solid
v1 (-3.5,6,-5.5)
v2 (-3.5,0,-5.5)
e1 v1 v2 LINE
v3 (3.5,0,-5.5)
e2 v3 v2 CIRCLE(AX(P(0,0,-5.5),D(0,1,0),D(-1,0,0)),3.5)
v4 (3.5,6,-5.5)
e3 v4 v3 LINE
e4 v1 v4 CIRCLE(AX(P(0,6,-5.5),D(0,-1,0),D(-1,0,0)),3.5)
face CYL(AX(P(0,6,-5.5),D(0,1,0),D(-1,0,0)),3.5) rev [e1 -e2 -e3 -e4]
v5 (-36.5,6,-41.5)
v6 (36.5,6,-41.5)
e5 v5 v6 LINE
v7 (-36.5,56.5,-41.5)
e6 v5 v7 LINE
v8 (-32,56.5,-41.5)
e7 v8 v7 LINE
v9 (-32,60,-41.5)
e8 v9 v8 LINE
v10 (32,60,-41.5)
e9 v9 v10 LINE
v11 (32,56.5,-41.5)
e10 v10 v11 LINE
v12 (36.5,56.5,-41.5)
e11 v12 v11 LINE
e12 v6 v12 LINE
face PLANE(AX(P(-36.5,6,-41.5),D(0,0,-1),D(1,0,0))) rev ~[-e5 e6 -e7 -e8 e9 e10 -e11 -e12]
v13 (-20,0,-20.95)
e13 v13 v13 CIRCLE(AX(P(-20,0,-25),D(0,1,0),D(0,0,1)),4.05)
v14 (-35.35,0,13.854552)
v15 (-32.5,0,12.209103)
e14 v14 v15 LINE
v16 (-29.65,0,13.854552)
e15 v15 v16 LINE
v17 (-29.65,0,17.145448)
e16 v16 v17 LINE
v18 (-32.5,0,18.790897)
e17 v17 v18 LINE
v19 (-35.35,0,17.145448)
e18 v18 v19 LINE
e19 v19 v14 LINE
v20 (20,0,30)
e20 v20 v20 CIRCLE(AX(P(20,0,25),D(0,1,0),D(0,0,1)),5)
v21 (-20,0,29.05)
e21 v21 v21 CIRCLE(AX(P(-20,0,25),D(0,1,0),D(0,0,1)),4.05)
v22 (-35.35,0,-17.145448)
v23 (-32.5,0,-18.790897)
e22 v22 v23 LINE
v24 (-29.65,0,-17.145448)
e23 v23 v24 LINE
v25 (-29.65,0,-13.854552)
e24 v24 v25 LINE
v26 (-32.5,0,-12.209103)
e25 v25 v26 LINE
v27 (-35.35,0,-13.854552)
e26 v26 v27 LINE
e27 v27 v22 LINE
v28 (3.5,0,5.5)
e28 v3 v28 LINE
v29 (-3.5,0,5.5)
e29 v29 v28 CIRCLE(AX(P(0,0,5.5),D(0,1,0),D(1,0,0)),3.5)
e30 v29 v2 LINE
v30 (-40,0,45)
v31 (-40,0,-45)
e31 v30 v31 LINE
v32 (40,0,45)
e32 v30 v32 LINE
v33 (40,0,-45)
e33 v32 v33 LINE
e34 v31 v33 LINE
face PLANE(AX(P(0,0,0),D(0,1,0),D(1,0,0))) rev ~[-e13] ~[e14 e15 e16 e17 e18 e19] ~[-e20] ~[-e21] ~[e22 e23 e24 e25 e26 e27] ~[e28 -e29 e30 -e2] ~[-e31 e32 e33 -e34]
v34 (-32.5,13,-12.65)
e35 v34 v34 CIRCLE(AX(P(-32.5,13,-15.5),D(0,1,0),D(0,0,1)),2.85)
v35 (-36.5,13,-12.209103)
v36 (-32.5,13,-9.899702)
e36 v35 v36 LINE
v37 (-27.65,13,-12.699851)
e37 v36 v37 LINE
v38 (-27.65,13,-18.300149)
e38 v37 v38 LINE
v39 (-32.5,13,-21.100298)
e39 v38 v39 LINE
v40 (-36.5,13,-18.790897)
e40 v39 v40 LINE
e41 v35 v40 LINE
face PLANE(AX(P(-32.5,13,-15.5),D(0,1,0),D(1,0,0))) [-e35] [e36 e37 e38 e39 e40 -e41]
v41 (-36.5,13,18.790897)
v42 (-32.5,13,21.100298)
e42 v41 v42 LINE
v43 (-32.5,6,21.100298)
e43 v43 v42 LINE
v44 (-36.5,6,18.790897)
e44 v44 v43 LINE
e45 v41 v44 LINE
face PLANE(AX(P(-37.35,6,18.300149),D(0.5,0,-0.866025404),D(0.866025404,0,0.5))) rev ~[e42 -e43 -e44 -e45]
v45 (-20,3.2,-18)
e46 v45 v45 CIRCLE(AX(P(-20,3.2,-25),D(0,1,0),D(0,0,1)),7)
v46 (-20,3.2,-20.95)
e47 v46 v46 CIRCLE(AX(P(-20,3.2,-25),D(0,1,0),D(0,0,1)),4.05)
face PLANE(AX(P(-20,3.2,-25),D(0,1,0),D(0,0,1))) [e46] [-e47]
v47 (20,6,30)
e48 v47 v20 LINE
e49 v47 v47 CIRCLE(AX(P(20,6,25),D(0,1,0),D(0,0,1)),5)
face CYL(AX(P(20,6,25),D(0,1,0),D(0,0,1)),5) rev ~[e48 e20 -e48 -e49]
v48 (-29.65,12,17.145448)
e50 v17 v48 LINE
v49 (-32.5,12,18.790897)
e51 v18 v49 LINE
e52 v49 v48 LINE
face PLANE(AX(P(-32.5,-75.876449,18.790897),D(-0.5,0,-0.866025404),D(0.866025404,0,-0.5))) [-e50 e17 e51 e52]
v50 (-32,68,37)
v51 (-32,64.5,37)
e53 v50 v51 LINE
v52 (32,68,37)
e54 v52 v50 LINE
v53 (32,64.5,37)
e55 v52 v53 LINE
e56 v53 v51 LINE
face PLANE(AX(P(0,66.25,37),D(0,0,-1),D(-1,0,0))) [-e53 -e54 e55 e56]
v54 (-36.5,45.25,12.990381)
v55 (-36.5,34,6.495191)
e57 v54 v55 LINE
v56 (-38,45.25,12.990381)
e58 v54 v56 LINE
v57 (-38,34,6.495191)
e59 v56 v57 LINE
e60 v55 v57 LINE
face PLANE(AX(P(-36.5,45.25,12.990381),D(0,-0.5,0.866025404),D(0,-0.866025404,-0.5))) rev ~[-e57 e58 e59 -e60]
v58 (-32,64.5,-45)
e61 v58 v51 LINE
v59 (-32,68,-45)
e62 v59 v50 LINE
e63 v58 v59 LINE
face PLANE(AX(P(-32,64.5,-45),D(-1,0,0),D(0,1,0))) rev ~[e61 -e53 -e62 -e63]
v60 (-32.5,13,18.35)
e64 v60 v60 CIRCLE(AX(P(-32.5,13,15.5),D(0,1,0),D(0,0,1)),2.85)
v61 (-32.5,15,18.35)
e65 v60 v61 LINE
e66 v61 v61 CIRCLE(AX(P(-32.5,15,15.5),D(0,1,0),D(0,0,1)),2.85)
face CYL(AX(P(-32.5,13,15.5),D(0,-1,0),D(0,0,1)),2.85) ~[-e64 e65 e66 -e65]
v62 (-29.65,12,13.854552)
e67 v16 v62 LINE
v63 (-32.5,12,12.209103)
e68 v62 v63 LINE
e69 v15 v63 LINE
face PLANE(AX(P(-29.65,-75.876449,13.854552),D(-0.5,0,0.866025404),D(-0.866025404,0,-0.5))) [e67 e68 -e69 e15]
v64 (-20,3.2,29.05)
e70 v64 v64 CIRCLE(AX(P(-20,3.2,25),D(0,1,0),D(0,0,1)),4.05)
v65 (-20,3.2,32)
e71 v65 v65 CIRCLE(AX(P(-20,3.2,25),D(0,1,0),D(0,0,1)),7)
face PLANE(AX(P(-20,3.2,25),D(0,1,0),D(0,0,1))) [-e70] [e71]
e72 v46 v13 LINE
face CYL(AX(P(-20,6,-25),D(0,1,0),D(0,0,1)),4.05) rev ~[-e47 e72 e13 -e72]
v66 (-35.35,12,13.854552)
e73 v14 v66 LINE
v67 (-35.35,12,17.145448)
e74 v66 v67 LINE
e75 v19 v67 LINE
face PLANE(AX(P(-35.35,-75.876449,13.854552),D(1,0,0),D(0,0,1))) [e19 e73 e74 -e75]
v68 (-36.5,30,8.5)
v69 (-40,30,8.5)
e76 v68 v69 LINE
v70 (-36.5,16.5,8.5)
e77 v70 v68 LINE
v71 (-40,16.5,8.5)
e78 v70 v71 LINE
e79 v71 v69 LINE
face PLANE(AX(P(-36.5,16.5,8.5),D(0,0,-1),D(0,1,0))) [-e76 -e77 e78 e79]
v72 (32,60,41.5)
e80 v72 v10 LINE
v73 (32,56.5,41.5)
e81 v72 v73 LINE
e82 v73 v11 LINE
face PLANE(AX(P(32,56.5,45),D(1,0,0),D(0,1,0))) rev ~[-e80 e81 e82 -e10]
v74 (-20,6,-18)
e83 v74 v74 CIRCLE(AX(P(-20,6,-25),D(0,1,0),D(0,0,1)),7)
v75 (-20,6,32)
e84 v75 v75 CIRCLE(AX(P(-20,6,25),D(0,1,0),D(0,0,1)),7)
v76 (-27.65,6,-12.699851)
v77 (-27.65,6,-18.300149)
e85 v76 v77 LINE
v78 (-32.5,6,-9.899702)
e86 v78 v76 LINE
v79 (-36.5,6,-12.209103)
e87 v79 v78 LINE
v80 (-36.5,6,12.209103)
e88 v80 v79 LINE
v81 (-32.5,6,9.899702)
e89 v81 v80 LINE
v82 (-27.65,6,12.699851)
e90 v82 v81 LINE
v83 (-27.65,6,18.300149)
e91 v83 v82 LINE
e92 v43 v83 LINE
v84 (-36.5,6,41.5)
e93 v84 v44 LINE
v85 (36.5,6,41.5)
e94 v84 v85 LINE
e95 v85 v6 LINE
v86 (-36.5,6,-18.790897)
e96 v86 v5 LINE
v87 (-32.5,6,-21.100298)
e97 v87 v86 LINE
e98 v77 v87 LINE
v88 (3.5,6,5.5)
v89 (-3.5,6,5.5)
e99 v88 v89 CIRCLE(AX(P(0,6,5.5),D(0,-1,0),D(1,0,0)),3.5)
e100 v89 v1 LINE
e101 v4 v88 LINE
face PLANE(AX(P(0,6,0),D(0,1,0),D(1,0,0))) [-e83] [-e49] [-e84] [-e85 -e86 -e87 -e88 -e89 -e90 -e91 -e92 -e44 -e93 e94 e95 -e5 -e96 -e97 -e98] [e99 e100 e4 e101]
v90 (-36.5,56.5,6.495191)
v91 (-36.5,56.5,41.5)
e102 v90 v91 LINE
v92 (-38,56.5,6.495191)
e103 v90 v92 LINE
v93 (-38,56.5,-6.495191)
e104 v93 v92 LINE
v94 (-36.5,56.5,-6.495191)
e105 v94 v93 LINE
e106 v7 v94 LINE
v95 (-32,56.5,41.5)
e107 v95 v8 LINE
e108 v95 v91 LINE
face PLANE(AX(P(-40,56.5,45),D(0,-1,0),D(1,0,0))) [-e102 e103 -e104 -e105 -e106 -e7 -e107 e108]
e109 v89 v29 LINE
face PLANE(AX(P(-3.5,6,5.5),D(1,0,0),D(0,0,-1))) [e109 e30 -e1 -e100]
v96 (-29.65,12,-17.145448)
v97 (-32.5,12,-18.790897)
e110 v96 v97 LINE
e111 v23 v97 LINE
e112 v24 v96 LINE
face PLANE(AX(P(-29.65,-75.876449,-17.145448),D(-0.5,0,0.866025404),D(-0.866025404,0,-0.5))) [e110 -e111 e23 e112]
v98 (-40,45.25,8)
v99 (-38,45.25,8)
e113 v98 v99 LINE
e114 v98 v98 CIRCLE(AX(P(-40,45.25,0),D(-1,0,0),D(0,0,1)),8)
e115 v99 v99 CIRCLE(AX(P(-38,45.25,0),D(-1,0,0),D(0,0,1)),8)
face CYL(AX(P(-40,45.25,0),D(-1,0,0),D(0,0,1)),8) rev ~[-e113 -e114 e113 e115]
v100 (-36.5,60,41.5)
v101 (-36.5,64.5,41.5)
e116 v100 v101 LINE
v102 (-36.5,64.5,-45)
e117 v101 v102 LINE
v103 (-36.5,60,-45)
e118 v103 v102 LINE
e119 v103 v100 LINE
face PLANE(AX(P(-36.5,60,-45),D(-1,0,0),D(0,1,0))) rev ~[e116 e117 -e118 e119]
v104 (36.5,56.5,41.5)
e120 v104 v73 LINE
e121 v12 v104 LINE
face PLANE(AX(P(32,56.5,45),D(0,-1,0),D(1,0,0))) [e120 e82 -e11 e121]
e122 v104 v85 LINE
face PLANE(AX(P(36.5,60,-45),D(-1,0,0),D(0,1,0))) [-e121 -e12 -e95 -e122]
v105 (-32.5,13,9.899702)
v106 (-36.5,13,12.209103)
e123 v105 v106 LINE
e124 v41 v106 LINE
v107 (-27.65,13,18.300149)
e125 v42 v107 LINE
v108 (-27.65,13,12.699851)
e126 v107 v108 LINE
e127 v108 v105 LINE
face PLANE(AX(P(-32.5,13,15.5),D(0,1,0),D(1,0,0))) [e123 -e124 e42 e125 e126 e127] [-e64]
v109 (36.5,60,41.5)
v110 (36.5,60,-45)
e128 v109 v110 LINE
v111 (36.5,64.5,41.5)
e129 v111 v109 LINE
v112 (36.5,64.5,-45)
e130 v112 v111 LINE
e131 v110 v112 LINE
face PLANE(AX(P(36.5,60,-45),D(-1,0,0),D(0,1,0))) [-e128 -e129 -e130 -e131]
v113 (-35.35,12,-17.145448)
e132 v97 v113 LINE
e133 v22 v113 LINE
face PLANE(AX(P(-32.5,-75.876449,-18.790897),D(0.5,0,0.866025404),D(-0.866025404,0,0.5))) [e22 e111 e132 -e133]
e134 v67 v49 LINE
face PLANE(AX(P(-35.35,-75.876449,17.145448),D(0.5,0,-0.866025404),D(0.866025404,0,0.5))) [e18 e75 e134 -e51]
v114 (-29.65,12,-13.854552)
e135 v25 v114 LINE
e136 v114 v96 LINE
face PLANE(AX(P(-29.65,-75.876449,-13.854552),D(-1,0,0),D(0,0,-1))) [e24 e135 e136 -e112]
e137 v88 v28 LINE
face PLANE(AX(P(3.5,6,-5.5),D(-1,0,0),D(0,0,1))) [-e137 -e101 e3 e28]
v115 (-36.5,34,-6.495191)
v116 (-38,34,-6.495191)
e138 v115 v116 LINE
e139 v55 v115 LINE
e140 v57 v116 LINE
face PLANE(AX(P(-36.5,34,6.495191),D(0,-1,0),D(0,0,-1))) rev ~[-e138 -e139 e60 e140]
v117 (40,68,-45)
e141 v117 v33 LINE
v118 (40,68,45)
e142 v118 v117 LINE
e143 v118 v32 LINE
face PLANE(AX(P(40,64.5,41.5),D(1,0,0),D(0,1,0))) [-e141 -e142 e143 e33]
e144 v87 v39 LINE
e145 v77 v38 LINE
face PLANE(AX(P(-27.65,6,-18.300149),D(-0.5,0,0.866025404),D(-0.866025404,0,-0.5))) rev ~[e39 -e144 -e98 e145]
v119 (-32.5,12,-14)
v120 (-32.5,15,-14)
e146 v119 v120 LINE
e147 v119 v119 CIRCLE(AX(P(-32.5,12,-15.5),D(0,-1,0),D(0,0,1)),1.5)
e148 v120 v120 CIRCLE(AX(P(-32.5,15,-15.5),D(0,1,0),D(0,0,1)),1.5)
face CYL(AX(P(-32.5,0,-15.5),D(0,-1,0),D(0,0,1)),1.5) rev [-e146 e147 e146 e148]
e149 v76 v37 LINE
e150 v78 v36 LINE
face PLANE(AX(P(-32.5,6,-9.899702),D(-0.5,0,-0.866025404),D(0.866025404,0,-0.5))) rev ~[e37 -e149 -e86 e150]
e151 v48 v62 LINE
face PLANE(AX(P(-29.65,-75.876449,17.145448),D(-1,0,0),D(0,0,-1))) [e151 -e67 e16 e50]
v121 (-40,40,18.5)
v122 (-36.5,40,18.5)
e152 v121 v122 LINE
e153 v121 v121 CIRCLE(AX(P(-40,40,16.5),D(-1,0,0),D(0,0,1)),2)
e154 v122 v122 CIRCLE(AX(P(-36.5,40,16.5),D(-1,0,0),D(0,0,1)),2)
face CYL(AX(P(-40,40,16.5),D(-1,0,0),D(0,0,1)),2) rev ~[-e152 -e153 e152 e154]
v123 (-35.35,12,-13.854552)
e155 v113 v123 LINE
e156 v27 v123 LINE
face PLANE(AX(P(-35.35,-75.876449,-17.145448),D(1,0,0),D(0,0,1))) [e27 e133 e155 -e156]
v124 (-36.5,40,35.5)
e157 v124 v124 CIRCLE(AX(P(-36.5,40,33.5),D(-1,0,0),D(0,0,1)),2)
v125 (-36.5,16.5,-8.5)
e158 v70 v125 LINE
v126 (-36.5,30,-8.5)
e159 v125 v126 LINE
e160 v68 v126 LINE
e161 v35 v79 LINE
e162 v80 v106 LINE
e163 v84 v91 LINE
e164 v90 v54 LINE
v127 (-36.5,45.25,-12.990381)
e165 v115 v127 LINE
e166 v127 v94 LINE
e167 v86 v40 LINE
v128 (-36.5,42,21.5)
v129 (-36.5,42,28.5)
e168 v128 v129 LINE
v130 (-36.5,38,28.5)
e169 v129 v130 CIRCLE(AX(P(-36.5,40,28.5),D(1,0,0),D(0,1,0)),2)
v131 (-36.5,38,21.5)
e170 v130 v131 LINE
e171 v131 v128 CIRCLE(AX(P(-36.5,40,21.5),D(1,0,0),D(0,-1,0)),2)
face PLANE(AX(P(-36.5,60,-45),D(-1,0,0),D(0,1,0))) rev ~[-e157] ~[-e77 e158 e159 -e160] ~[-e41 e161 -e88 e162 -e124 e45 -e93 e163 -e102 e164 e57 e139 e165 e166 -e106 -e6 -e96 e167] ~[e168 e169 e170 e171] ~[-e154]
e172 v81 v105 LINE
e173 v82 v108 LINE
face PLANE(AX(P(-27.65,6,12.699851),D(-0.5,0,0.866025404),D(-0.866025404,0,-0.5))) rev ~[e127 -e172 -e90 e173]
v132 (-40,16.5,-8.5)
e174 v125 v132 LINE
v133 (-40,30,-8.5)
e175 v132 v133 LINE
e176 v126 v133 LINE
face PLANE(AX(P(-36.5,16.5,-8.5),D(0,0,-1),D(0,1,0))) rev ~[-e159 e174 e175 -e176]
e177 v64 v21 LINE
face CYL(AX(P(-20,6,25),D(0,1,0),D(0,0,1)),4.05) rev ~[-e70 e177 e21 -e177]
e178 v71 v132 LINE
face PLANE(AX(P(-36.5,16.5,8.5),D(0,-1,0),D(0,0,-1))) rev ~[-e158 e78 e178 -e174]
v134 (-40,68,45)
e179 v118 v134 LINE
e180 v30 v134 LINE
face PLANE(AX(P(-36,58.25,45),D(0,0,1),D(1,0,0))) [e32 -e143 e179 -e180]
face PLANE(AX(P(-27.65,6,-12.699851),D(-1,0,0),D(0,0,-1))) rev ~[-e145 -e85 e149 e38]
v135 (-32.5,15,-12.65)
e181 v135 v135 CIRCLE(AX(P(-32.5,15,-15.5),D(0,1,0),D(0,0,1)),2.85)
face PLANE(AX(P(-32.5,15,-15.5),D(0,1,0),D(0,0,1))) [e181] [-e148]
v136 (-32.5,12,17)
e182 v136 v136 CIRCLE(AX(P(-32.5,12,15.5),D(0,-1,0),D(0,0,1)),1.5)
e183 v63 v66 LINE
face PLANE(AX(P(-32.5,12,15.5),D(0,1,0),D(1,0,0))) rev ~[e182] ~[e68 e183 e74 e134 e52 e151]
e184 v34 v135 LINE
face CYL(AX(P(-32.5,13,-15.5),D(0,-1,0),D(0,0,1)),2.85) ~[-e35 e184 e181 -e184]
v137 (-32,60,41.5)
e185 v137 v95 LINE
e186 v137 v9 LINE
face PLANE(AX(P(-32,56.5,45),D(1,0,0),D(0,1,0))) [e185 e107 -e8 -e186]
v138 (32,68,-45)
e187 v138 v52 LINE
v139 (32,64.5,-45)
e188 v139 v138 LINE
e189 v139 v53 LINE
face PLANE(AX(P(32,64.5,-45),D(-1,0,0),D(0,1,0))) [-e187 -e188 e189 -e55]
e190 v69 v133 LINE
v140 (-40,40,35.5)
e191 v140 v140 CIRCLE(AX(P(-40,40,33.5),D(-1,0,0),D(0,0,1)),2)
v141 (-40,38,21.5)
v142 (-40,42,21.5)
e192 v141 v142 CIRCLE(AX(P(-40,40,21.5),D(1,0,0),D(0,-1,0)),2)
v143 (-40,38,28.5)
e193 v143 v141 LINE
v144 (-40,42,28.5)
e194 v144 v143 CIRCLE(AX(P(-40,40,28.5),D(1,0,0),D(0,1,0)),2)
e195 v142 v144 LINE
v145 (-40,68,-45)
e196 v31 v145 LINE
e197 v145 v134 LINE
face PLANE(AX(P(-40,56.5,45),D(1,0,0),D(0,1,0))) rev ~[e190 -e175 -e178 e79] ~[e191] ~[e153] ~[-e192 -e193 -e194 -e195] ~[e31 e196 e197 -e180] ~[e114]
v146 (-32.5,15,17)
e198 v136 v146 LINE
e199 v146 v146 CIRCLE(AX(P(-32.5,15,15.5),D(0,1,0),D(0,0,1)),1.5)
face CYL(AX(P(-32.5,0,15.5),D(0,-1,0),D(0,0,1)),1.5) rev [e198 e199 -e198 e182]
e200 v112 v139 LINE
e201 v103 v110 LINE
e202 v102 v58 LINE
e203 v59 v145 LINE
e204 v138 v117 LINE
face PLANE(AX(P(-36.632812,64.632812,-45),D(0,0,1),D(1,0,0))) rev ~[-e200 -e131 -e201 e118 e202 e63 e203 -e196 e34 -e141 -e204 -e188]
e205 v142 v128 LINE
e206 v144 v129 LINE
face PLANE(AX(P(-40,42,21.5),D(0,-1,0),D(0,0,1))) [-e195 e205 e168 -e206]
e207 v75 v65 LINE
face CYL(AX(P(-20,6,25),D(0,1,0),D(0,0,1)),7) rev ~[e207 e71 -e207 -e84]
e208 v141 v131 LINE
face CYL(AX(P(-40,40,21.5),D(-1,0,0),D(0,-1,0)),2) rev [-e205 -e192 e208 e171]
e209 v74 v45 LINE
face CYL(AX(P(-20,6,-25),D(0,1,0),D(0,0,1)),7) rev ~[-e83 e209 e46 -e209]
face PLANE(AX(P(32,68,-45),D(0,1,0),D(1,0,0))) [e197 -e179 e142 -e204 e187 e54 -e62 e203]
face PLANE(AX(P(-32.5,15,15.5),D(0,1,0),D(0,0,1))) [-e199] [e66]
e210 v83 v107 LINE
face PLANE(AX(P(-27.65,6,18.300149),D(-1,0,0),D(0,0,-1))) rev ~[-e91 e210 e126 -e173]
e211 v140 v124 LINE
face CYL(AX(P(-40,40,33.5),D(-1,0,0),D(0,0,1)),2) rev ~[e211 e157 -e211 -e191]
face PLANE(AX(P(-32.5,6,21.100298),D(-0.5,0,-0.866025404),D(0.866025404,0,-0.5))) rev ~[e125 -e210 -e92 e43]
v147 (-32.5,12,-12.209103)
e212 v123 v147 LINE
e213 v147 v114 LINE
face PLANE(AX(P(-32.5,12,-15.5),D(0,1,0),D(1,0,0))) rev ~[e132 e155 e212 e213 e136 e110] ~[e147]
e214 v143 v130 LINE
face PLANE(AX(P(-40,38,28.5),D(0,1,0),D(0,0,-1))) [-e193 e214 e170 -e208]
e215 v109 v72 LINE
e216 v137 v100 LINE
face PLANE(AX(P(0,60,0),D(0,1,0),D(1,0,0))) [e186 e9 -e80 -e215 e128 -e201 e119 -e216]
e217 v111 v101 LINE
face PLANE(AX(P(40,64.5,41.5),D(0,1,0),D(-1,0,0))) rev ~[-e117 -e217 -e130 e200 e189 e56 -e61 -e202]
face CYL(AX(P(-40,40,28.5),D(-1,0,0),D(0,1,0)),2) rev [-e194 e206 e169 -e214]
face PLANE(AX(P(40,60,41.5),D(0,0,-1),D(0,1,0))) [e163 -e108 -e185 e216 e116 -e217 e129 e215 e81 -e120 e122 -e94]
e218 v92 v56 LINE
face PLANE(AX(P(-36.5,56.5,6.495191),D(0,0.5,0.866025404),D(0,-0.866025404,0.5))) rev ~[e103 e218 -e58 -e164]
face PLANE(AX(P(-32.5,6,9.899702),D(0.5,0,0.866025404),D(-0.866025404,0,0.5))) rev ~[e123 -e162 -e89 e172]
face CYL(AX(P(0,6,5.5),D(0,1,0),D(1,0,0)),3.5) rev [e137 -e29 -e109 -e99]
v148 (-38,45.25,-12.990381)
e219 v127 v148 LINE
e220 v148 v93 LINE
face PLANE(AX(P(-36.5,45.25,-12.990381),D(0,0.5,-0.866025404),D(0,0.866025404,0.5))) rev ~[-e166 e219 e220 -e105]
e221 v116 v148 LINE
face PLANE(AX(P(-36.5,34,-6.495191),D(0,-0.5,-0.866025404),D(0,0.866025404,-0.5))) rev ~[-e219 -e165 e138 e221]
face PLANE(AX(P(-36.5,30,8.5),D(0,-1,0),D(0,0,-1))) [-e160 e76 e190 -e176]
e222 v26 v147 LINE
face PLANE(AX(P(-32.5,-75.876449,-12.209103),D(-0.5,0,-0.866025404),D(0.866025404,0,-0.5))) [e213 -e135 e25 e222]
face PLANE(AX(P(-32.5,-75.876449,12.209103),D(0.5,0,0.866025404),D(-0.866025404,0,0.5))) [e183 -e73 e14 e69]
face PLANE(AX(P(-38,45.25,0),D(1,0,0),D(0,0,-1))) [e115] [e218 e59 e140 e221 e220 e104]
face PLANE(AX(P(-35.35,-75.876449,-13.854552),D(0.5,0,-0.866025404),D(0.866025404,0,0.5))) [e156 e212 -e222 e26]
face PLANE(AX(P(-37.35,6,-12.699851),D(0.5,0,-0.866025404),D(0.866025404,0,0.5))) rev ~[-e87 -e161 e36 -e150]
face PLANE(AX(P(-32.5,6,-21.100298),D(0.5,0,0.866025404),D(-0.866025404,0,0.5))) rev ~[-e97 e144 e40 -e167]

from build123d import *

# Parameters (mm, degrees)
SKETCH1_W               = 80
SKETCH1_H               = 90
BOSS_EXTRUDE1_DEPTH     = 6
SKETCH4_W               = 80
SKETCH4_H               = 90
SKETCH4_W_2             = 73
SKETCH4_H_2             = 83
BOSS_EXTRUDE2_DEPTH     = 54
SKETCH6_R               = 4.05
SKETCH6_R_2             = 5
CUT_EXTRUDE1_DEPTH      = 40
SKETCH7_R               = 7
CUT_EXTRUDE2_DEPTH      = 2.8
BOSS_EXTRUDE3_DEPTH     = 7
SKETCH11_R              = 2.85
BOSS_EXTRUDE4_DEPTH     = 2
CUT_EXTRUDE3_DEPTH      = 9
CUT_EXTRUDE3_DEPTH_BACK = 6
SKETCH5_R               = 1.5
CUT_EXTRUDE4_DEPTH      = 6
CUT_EXTRUDE4_DEPTH_BACK = 81.876448982
SKETCH12_W              = 17
SKETCH12_H              = 13.5
CUT_EXTRUDE6_DEPTH      = 3.5
SKETCH17_R              = 8
CUT_EXTRUDE8_DEPTH      = 2
CUT_EXTRUDE9_DEPTH      = 1.5
CUT_EXTRUDE10_DEPTH     = 10
BOSS_EXTRUDE5_DEPTH     = 90
BOSS_EXTRUDE5_2_DEPTH   = 90
SKETCH21_W              = 3.5
SKETCH21_H              = 8
BOSS_EXTRUDE6_DEPTH     = 80
SKETCH22_W              = 80
SKETCH22_H              = 3.5
BOSS_EXTRUDE7_DEPTH     = 4.5
SKETCH24_W              = 8
SKETCH24_H              = 3.5
BOSS_EXTRUDE8_DEPTH     = 90
SKETCH26_R              = 2
CUT_EXTRUDE11_DEPTH     = 3.5


with BuildPart() as part:
    # Sketch1 → Boss-Extrude1 (new body)
    with BuildSketch(Plane(origin=(0, 0, 0), x_dir=(1, 0, 0), z_dir=(0, 1, 0))):
        Rectangle(SKETCH1_W, SKETCH1_H)
    extrude(amount=BOSS_EXTRUDE1_DEPTH)

    # Sketch4 → Boss-Extrude2 (add)
    with BuildSketch(Plane(origin=(0, 6, 0), x_dir=(1, 0, 0), z_dir=(0, 1, 0))):
        Rectangle(SKETCH4_W, SKETCH4_H)
        Rectangle(SKETCH4_W_2, SKETCH4_H_2, mode=Mode.SUBTRACT)
    extrude(amount=BOSS_EXTRUDE2_DEPTH)

    # Sketch6 → Cut-Extrude1 (cut)
    with BuildSketch(Plane(origin=(0, 6, 0), x_dir=(1, 0, 0), z_dir=(0, 1, 0))):
        with Locations(Location((-20, 25, 0), (0, 0, 270))):
            Circle(SKETCH6_R)
        with Locations(Location((-20, -25, 0), (0, 0, 270))):
            Circle(SKETCH6_R)
        with Locations(Location((20, -25, 0), (0, 0, 270))):
            Circle(SKETCH6_R_2)
    extrude(amount=-CUT_EXTRUDE1_DEPTH, mode=Mode.SUBTRACT)

    # Sketch7 → Cut-Extrude2 (cut)
    with BuildSketch(Plane(origin=(0, 6, 0), x_dir=(1, 0, 0), z_dir=(0, 1, 0))):
        with Locations(Location((-20, 25, 0), (0, 0, 270))):
            Circle(SKETCH7_R)
        with Locations(Location((-20, -25, 0), (0, 0, 270))):
            Circle(SKETCH7_R)
    extrude(amount=-CUT_EXTRUDE2_DEPTH, mode=Mode.SUBTRACT)

    # Sketch10 → Boss-Extrude3 (add)
    with BuildSketch(Plane(origin=(0, 6, 0), x_dir=(1, 0, 0), z_dir=(0, 1, 0))):
        Polygon((-32.5, 21.100297611), (-37.35, 18.300148806), (-37.35, 12.699851194), (-32.5, 9.899702389), (-27.65, 12.699851194), (-27.65, 18.300148806), align=None)
        Polygon((-27.65, -12.699851194), (-32.5, -9.899702389), (-37.35, -12.699851194), (-37.35, -18.300148806), (-32.5, -21.100297611), (-27.65, -18.300148806), align=None)
    extrude(amount=BOSS_EXTRUDE3_DEPTH)

    # Sketch11 → Boss-Extrude4 (add)
    with BuildSketch(Plane(origin=(0, 13, 0), x_dir=(1, 0, 0), z_dir=(0, 1, 0))):
        with Locations(Location((-32.5, 15.5, 0), (0, 0, 270))):
            Circle(SKETCH11_R)
        with Locations(Location((-32.5, -15.5, 0), (0, 0, 270))):
            Circle(SKETCH11_R)
    extrude(amount=BOSS_EXTRUDE4_DEPTH)

    # Sketch5 → Cut-Extrude3 (cut, two sides: drawn at the far end of the back side and taken through both)
    with BuildSketch(Plane(origin=(0, 6, 0), x_dir=(1, 0, 0), z_dir=(0, 1, 0)).offset(-CUT_EXTRUDE3_DEPTH_BACK)):
        with Locations(Location((-32.5, 15.5, 0), (0, 0, 270))):
            Circle(SKETCH5_R)
        with Locations(Location((-32.5, -15.5, 0), (0, 0, 270))):
            Circle(SKETCH5_R)
    extrude(amount=CUT_EXTRUDE3_DEPTH + CUT_EXTRUDE3_DEPTH_BACK, mode=Mode.SUBTRACT)

    # Sketch8 → Cut-Extrude4 (cut, two sides: drawn at the far end of the back side and taken through both)
    with BuildSketch(Plane(origin=(0, 6, 0), x_dir=(1, 0, 0), z_dir=(0, 1, 0)).offset(-CUT_EXTRUDE4_DEPTH_BACK)):
        Polygon((-29.65, 17.145448267), (-32.5, 18.790896534), (-35.35, 17.145448267), (-35.35, 13.854551733), (-32.5, 12.209103466), (-29.65, 13.854551733), align=None)
        Polygon((-29.65, -13.854551733), (-32.5, -12.209103466), (-35.35, -13.854551733), (-35.35, -17.145448267), (-32.5, -18.790896534), (-29.65, -17.145448267), align=None)
    extrude(amount=CUT_EXTRUDE4_DEPTH + CUT_EXTRUDE4_DEPTH_BACK, mode=Mode.SUBTRACT)

    # Sketch12 → Cut-Extrude6 (cut)
    with BuildSketch(Plane(origin=(-36.5, 0, 0), x_dir=(0, 0, -1), z_dir=(1, 0, 0))):
        with Locations((0, 23.25)):
            Rectangle(SKETCH12_W, SKETCH12_H)
    extrude(amount=-CUT_EXTRUDE6_DEPTH, mode=Mode.SUBTRACT)

    # Sketch17 → Cut-Extrude8 (cut)
    with BuildSketch(Plane.ZY.offset(40)):
        with Locations((0, 45.25)):
            Circle(SKETCH17_R)
    extrude(amount=-CUT_EXTRUDE8_DEPTH, mode=Mode.SUBTRACT)

    # Sketch15 → Cut-Extrude9 (cut)
    with BuildSketch(Plane(origin=(-36.5, 0, 0), x_dir=(0, 0, -1), z_dir=(1, 0, 0))):
        Polygon((-6.495190528, 56.5), (-12.990381057, 45.25), (-6.495190528, 34), (6.495190528, 34), (12.990381057, 45.25), (6.495190528, 56.5), align=None)
    extrude(amount=-CUT_EXTRUDE9_DEPTH, mode=Mode.SUBTRACT)

    # Sketch19 → Cut-Extrude10 (cut)
    with BuildSketch(Plane(origin=(0, 6, 0), x_dir=(1, 0, 0), z_dir=(0, 1, 0))):
        with BuildLine():
            Line((-3.5, -5.5), (-3.5, 5.5))
            ThreePointArc((-3.5, 5.5), (0, 9), (3.5, 5.5))
            Line((3.5, 5.5), (3.5, -5.5))
            ThreePointArc((3.5, -5.5), (0, -9), (-3.5, -5.5))
        make_face()
    extrude(amount=-CUT_EXTRUDE10_DEPTH, mode=Mode.SUBTRACT)



with BuildPart() as body_2:
    # Sketch20 → Boss-Extrude5 (new body)
    with BuildSketch(Plane(origin=(0, 0, -45), x_dir=(-1, 0, 0), z_dir=(0, 0, -1))):
        Polygon((-40, 60), (-36.5, 60), (-36.5, 64.5), (-32, 64.5), (-32, 68), (-40, 68), align=None)
    extrude(amount=-BOSS_EXTRUDE5_DEPTH)


with BuildPart() as body_3:
    # Sketch20 → Boss-Extrude5 2 (new body)
    with BuildSketch(Plane(origin=(0, 0, -45), x_dir=(-1, 0, 0), z_dir=(0, 0, -1))):
        Polygon((40, 60), (36.5, 60), (36.5, 64.5), (32, 64.5), (32, 68), (40, 68), align=None)
    extrude(amount=-BOSS_EXTRUDE5_2_DEPTH)


with BuildPart() as part_1:
    add(part.part)

    add(body_2.part)  # Boss-Extrude6 merges body 2
    # Sketch21 → Boss-Extrude6 (add)
    with BuildSketch(Plane(origin=(40, 0, 0), x_dir=(0, 0, -1), z_dir=(1, 0, 0))):
        with Locations((-43.25, 64)):
            Rectangle(SKETCH21_W, SKETCH21_H)
    extrude(amount=-BOSS_EXTRUDE6_DEPTH)


    add(body_3.part)  # Boss-Extrude7 merges body 3
    # Sketch22 → Boss-Extrude7 (add)
    with BuildSketch(Plane(origin=(0, 0, 41.5), x_dir=(-1, 0, 0), z_dir=(0, 0, -1))):
        with Locations((0, 66.25)):
            Rectangle(SKETCH22_W, SKETCH22_H)
    extrude(amount=BOSS_EXTRUDE7_DEPTH)

    # Sketch24 → Boss-Extrude8 (add)
    with BuildSketch(Plane.XY.offset(45)):
        with Locations((-36, 58.25)):
            Rectangle(SKETCH24_W, SKETCH24_H)
        with Locations((36, 58.25)):
            Rectangle(SKETCH24_W, SKETCH24_H)
    extrude(amount=-BOSS_EXTRUDE8_DEPTH)

    # Sketch26 → Cut-Extrude11 (cut)
    with BuildSketch(Plane.ZY.offset(40)):
        with Locations((16.5, 40)):
            Circle(SKETCH26_R)
        with Locations((33.5, 40)):
            Circle(SKETCH26_R)
        with BuildLine():
            Line((21.5, 42), (28.5, 42))
            ThreePointArc((28.5, 42), (30.5, 40), (28.5, 38))
            Line((28.5, 38), (21.5, 38))
            ThreePointArc((21.5, 38), (19.5, 40), (21.5, 42))
        make_face()
    extrude(amount=-CUT_EXTRUDE11_DEPTH, mode=Mode.SUBTRACT)


solid = part_1.part
